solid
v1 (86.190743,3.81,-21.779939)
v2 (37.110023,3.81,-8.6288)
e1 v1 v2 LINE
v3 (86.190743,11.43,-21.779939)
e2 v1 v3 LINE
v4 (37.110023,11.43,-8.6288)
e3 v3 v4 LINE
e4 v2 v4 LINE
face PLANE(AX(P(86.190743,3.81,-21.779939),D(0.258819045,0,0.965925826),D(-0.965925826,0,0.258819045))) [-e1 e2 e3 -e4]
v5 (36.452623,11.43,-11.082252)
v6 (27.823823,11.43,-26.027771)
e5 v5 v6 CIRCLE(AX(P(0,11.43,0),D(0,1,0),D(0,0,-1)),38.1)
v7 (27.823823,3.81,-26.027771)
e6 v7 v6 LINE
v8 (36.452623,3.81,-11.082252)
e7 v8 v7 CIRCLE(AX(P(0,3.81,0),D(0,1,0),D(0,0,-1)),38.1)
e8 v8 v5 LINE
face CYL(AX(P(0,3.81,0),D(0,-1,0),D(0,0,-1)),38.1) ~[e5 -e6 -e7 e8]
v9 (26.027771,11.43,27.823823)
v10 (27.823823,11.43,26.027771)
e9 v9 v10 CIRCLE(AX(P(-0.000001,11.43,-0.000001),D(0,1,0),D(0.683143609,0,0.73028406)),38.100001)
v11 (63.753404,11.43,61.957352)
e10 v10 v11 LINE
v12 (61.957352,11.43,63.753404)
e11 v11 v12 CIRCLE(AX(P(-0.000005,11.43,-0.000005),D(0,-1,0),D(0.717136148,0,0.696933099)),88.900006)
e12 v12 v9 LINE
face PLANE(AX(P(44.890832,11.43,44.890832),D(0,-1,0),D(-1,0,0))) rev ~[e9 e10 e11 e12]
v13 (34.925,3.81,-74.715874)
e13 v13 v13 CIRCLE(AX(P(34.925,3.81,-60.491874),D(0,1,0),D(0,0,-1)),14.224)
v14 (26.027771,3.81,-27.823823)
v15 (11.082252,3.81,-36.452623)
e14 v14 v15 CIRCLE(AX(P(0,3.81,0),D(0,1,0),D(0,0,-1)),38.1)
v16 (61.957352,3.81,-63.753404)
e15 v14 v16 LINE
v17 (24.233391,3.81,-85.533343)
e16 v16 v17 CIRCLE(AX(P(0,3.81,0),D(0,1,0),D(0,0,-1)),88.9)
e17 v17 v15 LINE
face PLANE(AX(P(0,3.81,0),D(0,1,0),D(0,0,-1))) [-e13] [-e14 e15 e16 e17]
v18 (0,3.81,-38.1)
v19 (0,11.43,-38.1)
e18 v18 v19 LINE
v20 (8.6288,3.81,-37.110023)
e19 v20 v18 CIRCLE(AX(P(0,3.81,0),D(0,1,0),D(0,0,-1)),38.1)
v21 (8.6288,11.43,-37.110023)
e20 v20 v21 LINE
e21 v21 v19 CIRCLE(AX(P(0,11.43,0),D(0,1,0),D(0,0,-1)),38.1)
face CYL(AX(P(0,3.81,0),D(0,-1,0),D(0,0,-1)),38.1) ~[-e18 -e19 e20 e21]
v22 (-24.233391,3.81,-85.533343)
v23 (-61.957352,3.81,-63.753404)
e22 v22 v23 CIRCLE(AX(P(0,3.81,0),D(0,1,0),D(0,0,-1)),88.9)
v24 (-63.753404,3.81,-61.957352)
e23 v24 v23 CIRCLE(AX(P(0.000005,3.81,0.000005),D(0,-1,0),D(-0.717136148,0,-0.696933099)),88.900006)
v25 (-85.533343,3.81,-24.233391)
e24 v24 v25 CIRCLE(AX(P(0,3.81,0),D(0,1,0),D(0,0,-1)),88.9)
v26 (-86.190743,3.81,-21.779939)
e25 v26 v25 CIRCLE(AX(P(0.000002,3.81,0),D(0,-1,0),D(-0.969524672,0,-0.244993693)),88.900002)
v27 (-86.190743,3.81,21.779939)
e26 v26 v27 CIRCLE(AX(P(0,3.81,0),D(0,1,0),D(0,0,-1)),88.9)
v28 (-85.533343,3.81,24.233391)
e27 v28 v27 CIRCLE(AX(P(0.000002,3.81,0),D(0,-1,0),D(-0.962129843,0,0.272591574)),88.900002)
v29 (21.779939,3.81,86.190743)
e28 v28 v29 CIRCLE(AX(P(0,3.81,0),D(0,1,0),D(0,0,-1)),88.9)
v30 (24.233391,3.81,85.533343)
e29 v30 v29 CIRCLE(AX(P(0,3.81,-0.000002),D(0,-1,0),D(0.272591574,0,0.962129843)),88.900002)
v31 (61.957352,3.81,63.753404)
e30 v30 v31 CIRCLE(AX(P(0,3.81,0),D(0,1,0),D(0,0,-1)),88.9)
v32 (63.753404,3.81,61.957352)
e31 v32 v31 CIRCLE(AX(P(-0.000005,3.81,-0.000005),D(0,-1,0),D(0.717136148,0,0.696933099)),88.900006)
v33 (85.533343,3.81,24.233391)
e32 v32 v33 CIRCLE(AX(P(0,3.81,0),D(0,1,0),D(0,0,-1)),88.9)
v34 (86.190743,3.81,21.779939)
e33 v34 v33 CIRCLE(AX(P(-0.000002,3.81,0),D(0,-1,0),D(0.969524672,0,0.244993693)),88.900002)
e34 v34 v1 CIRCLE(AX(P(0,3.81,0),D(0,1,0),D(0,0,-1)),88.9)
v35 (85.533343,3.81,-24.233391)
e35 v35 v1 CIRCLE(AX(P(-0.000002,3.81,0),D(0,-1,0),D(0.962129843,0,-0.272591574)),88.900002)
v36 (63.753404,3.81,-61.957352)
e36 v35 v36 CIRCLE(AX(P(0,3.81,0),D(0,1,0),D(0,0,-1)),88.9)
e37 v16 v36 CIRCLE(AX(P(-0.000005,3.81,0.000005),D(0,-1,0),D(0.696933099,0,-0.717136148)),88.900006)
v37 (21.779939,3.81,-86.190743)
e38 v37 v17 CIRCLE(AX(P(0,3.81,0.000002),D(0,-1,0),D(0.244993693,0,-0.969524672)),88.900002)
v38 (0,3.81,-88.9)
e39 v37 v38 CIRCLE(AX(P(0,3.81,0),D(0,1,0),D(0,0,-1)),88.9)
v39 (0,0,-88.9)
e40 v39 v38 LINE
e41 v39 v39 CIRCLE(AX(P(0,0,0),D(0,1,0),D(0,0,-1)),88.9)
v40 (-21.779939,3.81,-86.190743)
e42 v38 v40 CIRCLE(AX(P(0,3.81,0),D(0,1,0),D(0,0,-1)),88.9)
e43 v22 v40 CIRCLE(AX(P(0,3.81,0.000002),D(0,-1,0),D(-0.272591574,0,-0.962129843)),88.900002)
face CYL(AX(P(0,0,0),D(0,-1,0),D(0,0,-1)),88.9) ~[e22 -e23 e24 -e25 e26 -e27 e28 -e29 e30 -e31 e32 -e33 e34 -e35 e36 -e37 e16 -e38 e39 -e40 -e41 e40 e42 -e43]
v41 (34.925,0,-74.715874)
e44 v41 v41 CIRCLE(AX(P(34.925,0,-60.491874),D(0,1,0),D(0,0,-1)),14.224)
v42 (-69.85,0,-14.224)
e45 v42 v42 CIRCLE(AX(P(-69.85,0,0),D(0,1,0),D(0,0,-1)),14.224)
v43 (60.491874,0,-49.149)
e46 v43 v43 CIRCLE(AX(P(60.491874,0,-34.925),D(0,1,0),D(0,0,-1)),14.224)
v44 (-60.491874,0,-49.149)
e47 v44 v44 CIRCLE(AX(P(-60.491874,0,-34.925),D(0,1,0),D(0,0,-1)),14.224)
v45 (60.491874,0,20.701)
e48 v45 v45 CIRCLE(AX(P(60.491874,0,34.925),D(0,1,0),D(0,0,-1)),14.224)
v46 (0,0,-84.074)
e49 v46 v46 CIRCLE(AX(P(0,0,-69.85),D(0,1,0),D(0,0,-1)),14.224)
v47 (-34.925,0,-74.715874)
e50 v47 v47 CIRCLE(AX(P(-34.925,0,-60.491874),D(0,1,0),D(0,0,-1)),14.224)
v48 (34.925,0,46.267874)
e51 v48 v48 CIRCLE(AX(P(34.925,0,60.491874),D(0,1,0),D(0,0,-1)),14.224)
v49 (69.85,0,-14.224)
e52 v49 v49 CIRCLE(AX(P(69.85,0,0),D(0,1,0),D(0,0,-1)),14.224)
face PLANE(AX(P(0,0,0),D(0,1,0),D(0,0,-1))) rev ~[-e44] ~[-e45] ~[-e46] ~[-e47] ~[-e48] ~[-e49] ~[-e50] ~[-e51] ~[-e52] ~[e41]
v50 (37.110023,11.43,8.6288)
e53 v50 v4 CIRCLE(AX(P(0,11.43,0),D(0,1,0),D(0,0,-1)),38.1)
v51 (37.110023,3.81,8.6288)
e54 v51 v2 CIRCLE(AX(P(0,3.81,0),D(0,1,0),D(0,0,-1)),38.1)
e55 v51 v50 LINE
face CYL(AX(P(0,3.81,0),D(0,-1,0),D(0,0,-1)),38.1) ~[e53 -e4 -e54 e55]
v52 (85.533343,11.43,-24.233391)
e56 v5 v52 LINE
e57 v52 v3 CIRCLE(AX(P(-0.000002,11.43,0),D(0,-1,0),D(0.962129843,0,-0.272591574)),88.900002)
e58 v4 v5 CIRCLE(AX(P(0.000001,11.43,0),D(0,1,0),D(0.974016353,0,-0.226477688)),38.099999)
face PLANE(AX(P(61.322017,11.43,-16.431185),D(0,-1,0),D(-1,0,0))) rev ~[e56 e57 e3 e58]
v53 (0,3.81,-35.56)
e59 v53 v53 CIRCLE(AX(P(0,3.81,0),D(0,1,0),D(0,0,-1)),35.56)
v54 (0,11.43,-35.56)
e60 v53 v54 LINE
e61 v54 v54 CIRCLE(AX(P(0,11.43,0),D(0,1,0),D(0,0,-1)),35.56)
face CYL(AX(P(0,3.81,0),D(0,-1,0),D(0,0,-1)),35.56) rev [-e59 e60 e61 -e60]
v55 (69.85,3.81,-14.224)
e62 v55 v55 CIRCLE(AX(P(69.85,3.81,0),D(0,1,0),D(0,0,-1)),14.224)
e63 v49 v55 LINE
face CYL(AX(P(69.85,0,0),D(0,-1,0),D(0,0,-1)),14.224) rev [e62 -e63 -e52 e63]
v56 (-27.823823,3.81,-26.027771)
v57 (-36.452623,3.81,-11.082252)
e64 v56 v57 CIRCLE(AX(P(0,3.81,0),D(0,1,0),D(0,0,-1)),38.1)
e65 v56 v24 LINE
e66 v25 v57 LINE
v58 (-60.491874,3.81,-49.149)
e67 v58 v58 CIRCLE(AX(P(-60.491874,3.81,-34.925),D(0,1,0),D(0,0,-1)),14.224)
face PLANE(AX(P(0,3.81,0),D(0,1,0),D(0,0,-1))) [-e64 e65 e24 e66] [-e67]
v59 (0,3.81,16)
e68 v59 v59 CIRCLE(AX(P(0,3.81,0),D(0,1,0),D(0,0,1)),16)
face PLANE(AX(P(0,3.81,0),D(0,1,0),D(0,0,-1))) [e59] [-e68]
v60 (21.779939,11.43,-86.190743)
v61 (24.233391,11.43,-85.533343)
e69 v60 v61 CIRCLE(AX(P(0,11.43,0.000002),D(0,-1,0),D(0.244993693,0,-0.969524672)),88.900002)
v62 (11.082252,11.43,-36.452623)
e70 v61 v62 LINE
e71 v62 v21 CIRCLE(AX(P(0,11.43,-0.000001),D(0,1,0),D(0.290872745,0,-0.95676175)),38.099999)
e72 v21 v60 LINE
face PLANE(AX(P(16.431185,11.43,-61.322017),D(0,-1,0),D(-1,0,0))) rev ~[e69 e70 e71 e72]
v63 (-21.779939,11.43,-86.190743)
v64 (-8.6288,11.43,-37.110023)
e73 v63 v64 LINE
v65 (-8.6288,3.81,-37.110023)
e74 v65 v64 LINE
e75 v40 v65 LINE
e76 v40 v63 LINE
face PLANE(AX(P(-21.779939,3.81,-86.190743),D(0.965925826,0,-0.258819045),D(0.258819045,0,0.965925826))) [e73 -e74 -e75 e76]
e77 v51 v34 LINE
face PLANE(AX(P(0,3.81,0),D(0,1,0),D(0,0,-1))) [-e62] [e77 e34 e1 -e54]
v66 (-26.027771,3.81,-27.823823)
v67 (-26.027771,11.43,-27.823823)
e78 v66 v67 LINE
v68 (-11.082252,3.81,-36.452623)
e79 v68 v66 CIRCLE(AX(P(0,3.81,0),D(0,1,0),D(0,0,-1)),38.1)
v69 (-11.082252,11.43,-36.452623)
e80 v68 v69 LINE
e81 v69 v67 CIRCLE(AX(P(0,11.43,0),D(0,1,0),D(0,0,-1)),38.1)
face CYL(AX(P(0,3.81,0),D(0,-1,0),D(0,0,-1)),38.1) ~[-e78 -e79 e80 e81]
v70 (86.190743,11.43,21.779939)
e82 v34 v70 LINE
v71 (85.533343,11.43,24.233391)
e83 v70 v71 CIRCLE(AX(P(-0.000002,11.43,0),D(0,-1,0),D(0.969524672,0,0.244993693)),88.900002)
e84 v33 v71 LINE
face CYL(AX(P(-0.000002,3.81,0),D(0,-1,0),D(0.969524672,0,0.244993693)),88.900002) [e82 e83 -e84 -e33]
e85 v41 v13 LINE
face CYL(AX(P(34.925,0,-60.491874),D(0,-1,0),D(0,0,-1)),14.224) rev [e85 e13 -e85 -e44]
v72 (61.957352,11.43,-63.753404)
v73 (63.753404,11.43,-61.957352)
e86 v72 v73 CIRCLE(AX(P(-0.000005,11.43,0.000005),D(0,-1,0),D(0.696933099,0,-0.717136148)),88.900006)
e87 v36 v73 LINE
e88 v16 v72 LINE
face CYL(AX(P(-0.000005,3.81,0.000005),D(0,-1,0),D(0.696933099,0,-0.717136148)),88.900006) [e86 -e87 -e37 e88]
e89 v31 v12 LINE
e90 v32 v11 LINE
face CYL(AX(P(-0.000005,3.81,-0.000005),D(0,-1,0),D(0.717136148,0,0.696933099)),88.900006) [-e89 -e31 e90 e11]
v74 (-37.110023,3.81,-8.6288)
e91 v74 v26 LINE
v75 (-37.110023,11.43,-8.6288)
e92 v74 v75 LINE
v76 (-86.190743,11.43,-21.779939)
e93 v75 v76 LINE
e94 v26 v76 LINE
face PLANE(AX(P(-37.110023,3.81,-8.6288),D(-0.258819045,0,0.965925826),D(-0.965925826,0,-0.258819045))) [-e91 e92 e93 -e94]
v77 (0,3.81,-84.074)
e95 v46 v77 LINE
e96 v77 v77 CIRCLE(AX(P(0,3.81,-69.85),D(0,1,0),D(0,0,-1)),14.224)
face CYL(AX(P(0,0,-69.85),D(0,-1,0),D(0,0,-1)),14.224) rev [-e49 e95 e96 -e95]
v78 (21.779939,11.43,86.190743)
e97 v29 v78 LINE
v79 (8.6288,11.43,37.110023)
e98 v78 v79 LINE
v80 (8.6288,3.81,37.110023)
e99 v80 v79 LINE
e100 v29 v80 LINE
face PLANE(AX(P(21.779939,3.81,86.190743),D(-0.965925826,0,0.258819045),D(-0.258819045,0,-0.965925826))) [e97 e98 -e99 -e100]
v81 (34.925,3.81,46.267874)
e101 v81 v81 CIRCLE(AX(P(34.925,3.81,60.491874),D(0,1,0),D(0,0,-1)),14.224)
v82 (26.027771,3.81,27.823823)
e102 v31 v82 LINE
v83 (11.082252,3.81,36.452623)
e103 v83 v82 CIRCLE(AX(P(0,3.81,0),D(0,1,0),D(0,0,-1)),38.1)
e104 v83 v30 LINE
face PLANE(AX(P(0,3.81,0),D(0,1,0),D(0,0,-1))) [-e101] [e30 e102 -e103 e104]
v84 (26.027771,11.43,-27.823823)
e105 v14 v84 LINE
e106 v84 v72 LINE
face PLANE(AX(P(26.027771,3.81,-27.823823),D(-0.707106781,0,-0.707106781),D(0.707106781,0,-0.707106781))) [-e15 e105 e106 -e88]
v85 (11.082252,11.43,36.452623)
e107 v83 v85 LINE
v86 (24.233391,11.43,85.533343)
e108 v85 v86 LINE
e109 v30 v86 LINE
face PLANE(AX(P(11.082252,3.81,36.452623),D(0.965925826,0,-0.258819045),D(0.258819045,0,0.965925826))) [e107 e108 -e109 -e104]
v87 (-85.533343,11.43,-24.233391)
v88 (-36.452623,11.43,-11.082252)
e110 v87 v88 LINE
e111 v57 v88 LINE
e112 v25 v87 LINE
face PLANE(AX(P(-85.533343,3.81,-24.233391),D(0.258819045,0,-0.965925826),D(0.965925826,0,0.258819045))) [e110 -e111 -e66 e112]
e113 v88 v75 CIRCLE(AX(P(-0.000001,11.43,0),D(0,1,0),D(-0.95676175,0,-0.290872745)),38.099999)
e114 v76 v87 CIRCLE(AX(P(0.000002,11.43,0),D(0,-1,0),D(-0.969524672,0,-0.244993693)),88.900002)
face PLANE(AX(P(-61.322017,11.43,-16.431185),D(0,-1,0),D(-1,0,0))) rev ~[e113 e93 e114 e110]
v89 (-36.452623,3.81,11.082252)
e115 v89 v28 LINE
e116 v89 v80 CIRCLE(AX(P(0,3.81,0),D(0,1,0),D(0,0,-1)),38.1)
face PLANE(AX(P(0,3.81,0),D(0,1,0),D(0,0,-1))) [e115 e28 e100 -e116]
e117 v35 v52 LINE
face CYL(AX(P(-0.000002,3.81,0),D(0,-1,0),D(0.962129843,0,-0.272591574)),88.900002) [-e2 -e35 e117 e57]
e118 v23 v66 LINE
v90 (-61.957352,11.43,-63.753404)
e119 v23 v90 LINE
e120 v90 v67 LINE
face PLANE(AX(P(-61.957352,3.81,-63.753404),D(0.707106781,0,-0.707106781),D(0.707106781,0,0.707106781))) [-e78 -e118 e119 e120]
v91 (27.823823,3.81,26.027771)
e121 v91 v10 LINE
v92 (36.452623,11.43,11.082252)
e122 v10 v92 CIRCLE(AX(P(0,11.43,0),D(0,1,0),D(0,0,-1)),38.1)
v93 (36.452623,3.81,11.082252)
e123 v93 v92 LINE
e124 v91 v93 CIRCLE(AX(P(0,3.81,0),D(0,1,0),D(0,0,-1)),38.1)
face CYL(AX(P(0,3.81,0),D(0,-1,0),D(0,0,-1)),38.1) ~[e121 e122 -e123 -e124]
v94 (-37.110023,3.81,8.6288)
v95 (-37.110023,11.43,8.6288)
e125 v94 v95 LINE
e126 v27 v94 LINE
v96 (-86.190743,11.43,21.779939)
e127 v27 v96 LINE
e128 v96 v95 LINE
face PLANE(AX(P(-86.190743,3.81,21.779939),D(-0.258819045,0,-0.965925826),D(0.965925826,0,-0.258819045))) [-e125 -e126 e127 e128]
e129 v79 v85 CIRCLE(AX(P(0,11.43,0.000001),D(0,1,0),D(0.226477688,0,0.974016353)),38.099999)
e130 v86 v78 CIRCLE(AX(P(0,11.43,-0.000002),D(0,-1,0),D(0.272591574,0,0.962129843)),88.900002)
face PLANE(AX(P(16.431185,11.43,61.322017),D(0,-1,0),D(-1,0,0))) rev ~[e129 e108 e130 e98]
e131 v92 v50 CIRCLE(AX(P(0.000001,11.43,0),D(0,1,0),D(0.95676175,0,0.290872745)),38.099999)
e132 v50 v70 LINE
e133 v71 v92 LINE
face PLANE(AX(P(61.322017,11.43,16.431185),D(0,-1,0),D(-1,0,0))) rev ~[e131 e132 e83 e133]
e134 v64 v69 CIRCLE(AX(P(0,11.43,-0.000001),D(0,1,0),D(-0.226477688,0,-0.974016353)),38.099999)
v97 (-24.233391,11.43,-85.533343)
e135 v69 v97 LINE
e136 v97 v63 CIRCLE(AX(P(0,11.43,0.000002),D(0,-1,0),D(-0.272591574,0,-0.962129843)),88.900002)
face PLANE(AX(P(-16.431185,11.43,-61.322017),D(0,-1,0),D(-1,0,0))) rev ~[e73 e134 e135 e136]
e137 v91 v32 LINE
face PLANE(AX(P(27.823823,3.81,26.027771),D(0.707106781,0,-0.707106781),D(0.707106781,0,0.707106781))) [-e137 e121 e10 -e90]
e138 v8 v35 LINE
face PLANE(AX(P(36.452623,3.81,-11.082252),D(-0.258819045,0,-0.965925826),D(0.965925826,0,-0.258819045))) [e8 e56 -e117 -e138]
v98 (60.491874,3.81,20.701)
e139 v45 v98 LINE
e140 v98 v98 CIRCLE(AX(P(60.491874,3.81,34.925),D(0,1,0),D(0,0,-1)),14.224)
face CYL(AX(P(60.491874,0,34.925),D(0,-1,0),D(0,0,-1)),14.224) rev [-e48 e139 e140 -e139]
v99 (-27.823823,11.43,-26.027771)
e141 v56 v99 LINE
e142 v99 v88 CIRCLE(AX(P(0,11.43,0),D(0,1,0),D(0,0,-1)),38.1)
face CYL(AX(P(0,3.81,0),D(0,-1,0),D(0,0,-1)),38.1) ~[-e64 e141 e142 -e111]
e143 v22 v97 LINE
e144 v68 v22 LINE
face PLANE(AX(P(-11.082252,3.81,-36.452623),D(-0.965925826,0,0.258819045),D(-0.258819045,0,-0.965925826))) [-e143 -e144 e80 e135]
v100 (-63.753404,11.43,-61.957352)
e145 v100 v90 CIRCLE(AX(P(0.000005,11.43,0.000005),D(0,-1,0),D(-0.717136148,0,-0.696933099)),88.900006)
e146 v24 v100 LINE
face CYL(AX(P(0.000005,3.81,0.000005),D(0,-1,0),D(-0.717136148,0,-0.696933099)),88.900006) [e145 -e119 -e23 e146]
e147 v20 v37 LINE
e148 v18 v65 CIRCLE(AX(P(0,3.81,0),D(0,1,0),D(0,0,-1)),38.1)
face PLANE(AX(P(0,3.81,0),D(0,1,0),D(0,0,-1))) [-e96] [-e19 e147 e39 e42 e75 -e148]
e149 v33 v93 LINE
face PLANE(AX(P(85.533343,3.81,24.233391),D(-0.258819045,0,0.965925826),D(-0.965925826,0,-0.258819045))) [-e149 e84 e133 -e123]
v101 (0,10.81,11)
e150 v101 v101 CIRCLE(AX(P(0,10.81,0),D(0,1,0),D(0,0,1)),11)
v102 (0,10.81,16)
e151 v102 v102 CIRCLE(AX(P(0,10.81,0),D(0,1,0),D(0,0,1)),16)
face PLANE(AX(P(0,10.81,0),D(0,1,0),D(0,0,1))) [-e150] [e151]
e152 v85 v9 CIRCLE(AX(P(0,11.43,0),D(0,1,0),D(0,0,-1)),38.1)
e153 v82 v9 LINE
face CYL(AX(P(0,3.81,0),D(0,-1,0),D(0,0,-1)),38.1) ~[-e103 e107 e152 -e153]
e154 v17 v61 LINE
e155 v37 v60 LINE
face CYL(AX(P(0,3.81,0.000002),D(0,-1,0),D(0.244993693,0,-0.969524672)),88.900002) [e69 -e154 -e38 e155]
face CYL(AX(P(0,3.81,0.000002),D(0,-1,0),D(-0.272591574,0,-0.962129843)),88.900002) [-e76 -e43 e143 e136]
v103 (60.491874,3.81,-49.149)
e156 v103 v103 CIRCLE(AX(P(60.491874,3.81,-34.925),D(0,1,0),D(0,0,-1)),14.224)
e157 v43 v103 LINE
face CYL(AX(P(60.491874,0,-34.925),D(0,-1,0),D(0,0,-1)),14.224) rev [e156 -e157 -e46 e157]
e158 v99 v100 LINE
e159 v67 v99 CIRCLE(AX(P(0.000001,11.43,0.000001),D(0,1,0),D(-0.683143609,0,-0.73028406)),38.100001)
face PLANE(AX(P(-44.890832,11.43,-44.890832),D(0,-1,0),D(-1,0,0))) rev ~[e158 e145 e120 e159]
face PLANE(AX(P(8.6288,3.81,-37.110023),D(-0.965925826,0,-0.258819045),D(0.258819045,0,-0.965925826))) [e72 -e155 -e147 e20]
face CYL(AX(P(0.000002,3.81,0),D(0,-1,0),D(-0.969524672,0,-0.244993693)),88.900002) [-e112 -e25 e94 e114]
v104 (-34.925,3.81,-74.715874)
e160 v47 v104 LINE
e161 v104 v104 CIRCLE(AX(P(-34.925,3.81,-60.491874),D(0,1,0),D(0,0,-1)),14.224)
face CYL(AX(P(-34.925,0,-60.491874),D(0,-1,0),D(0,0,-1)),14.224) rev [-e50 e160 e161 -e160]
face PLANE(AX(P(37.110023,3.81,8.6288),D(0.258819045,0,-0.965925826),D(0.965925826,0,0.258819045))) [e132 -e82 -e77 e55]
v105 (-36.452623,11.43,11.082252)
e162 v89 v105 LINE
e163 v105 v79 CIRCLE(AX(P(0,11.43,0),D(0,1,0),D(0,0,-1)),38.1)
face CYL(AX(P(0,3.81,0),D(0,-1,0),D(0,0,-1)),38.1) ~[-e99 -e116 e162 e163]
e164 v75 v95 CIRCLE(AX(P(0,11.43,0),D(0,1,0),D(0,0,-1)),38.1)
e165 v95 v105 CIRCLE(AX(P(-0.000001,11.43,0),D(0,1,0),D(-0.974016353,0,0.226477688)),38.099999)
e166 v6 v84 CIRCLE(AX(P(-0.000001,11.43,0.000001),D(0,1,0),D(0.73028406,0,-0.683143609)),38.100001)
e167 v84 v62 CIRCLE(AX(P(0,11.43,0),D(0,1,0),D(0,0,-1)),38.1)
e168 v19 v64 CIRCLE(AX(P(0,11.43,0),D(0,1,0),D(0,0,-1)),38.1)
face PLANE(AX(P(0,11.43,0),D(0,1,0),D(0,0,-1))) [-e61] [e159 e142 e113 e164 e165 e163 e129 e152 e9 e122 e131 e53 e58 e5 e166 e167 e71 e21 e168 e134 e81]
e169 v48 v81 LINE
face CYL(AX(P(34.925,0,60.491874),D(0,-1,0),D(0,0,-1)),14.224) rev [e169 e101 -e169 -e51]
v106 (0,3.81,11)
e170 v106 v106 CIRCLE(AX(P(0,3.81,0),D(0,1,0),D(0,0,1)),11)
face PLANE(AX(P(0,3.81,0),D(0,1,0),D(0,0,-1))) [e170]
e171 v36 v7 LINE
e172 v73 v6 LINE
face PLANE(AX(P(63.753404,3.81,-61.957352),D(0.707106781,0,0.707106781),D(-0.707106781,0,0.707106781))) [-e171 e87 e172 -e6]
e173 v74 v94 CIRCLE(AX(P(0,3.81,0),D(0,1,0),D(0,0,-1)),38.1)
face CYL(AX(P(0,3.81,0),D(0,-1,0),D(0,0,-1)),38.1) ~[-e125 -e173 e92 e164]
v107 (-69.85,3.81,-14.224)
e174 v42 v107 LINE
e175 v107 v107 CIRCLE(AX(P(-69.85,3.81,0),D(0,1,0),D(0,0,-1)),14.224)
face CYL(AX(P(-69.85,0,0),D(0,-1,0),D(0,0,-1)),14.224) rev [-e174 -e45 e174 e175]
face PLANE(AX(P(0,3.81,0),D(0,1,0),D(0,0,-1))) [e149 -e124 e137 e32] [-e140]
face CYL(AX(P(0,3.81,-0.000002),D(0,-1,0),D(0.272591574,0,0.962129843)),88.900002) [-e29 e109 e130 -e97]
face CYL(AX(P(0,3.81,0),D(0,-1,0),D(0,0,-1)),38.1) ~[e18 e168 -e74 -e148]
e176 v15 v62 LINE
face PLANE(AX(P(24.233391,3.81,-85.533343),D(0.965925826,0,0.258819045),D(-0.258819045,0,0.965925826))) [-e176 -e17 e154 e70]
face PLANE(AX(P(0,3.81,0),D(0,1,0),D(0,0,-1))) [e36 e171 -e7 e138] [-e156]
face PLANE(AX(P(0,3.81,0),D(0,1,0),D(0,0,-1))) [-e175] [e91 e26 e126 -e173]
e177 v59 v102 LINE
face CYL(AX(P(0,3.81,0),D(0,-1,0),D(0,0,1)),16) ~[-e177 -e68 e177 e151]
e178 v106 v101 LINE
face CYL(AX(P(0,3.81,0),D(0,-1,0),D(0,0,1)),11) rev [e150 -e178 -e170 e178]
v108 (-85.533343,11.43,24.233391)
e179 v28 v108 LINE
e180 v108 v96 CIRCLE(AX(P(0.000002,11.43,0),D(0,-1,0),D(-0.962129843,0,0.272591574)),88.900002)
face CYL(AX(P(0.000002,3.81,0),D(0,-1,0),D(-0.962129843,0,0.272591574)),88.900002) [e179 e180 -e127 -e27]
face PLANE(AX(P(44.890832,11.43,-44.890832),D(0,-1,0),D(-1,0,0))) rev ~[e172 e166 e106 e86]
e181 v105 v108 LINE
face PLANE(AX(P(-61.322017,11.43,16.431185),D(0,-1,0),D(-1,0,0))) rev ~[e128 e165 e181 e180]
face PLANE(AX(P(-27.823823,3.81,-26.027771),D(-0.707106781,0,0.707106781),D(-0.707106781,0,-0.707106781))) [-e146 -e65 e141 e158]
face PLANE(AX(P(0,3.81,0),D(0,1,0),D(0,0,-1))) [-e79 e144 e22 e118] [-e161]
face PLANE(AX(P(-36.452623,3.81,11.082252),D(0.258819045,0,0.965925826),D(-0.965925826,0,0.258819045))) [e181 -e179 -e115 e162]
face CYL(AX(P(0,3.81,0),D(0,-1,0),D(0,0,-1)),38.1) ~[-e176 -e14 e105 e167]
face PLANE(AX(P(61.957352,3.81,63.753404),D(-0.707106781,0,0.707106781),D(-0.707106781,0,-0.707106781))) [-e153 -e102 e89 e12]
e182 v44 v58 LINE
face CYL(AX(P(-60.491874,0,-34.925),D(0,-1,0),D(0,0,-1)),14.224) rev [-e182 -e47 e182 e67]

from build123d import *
from build123d.topology import SkipClean

# Parameters (mm, degrees)
SKETCH1_R           = 88.9
SKETCH1_R_2         = 14.224
BOSS_EXTRUDE1_DEPTH = 3.81
SKETCH3_R           = 38.1
SKETCH3_R_2         = 35.56
BOSS_EXTRUDE3_DEPTH = 7.62
BOSS_EXTRUDE4_DEPTH = 7.62
SKETCH4_R           = 16
SKETCH4_R_2         = 11
BOSS_EXTRUDE5_DEPTH = 7


with BuildPart() as part:
    # Sketch1 → Boss-Extrude1 (new body)
    with BuildSketch(Plane(origin=(0, 0, 0), x_dir=(1, 0, 0), z_dir=(0, 1, 0))):
        with Locations(Location((0, 0, 0), (0, 0, 90))):
            Circle(SKETCH1_R)
        with Locations(Location((-69.85, 0, 0), (0, 0, 90))):
            Circle(SKETCH1_R_2, mode=Mode.SUBTRACT)
        with Locations(Location((-60.491874454, 34.925, 0), (0, 0, 90))):
            Circle(SKETCH1_R_2, mode=Mode.SUBTRACT)
        with Locations(Location((-34.925, 60.491874454, 0), (0, 0, 90))):
            Circle(SKETCH1_R_2, mode=Mode.SUBTRACT)
        with Locations(Location((0, 69.85, 0), (0, 0, 90))):
            Circle(SKETCH1_R_2, mode=Mode.SUBTRACT)
        with Locations(Location((34.925, 60.491874454, 0), (0, 0, 90))):
            Circle(SKETCH1_R_2, mode=Mode.SUBTRACT)
        with Locations(Location((60.491874454, 34.925, 0), (0, 0, 90))):
            Circle(SKETCH1_R_2, mode=Mode.SUBTRACT)
        with Locations(Location((69.85, 0, 0), (0, 0, 90))):
            Circle(SKETCH1_R_2, mode=Mode.SUBTRACT)
        with Locations(Location((60.491874454, -34.925, 0), (0, 0, 90))):
            Circle(SKETCH1_R_2, mode=Mode.SUBTRACT)
        with Locations(Location((34.925, -60.491874454, 0), (0, 0, 90))):
            Circle(SKETCH1_R_2, mode=Mode.SUBTRACT)
    extrude(amount=BOSS_EXTRUDE1_DEPTH)

    # Sketch3 → Boss-Extrude3 (add)
    with BuildSketch(Plane(origin=(0, 3.81, 0), x_dir=(1, 0, 0), z_dir=(0, 1, 0))):
        with Locations(Location((0, 0, 0), (0, 0, 90))):
            Circle(SKETCH3_R)
        with Locations(Location((0, 0, 0), (0, 0, 90))):
            Circle(SKETCH3_R_2, mode=Mode.SUBTRACT)
    extrude(amount=BOSS_EXTRUDE3_DEPTH)

    # Sketch2 → Boss-Extrude4 (add)
    with SkipClean():  # the faces are left unmerged after this step: merging them gives an invalid solid
        with BuildSketch(Plane(origin=(0, 3.81, 0), x_dir=(1, 0, 0), z_dir=(0, 1, 0))):
            with BuildLine():
                Line((-86.19074337, -21.779939332), (-37.110023056, -8.62879996))
                ThreePointArc((-37.110023056, -8.62879996), (-36.801773982, -9.861005618), (-36.452622682, -11.082251559))
                Line((-36.452622682, -11.082251559), (-85.533342996, -24.233390931))
                ThreePointArc((-85.533342996, -24.233390931), (-85.870805957, -23.00901311), (-86.19074337, -21.779939332))
            make_face()
            with BuildLine():
                Line((-85.533342996, 24.233390931), (-36.452622682, 11.082251559))
                ThreePointArc((-36.452622682, 11.082251559), (-36.801773982, 9.861005618), (-37.110023056, 8.62879996))
                Line((-37.110023056, 8.62879996), (-86.19074337, 21.779939332))
                ThreePointArc((-86.19074337, 21.779939332), (-85.870805957, 23.00901311), (-85.533342996, 24.233390931))
            make_face()
            with BuildLine():
                Line((-61.957352439, 63.753403664), (-26.027771498, 27.823822722))
                ThreePointArc((-26.027771498, 27.823822722), (-26.940768363, 26.940768363), (-27.823822722, 26.027771498))
                Line((-27.823822722, 26.027771498), (-63.753403664, 61.957352439))
                ThreePointArc((-63.753403664, 61.957352439), (-62.861792847, 62.861792847), (-61.957352439, 63.753403664))
            make_face()
            with BuildLine():
                Line((-21.779939332, 86.19074337), (-8.62879996, 37.110023056))
                ThreePointArc((-8.62879996, 37.110023056), (-9.861005618, 36.801773982), (-11.082251559, 36.452622682))
                Line((-11.082251559, 36.452622682), (-24.233390931, 85.533342996))
                ThreePointArc((-24.233390931, 85.533342996), (-23.00901311, 85.870805957), (-21.779939332, 86.19074337))
            make_face()
            with BuildLine():
                Line((24.233390931, 85.533342996), (11.082251559, 36.452622682))
                ThreePointArc((11.082251559, 36.452622682), (9.861005618, 36.801773982), (8.62879996, 37.110023056))
                Line((8.62879996, 37.110023056), (21.779939332, 86.19074337))
                ThreePointArc((21.779939332, 86.19074337), (23.00901311, 85.870805957), (24.233390931, 85.533342996))
            make_face()
            with BuildLine():
                Line((63.753403664, 61.957352439), (27.823822722, 26.027771498))
                ThreePointArc((27.823822722, 26.027771498), (26.940768363, 26.940768363), (26.027771498, 27.823822722))
                Line((26.027771498, 27.823822722), (61.957352439, 63.753403664))
                ThreePointArc((61.957352439, 63.753403664), (62.861792847, 62.861792847), (63.753403664, 61.957352439))
            make_face()
            with BuildLine():
                Line((86.19074337, 21.779939332), (37.110023056, 8.62879996))
                ThreePointArc((37.110023056, 8.62879996), (36.801773982, 9.861005618), (36.452622682, 11.082251559))
                Line((36.452622682, 11.082251559), (85.533342996, 24.233390931))
                ThreePointArc((85.533342996, 24.233390931), (85.870805957, 23.00901311), (86.19074337, 21.779939332))
            make_face()
            with BuildLine():
                Line((85.533342996, -24.233390931), (36.452622682, -11.082251559))
                ThreePointArc((36.452622682, -11.082251559), (36.801773982, -9.861005618), (37.110023056, -8.62879996))
                Line((37.110023056, -8.62879996), (86.19074337, -21.779939332))
                ThreePointArc((86.19074337, -21.779939332), (85.870805957, -23.00901311), (85.533342996, -24.233390931))
            make_face()
            with BuildLine():
                Line((61.957352439, -63.753403664), (26.027771498, -27.823822722))
                ThreePointArc((26.027771498, -27.823822722), (26.940768363, -26.940768363), (27.823822722, -26.027771498))
                Line((27.823822722, -26.027771498), (63.753403664, -61.957352439))
                ThreePointArc((63.753403664, -61.957352439), (62.861792847, -62.861792847), (61.957352439, -63.753403664))
            make_face()
            with BuildLine():
                Line((21.779939332, -86.19074337), (8.62879996, -37.110023056))
                ThreePointArc((8.62879996, -37.110023056), (9.861005618, -36.801773982), (11.082251559, -36.452622682))
                Line((11.082251559, -36.452622682), (24.233390931, -85.533342996))
                ThreePointArc((24.233390931, -85.533342996), (23.00901311, -85.870805957), (21.779939332, -86.19074337))
            make_face()
        extrude(amount=BOSS_EXTRUDE4_DEPTH)

    # Sketch4 → Boss-Extrude5 (add)
    with SkipClean():  # the faces are left unmerged after this step: merging them gives an invalid solid
        with BuildSketch(Plane(origin=(0, 3.81, 0), x_dir=(1, 0, 0), z_dir=(0, 1, 0))):
            with Locations(Location((0, 0, 0), (0, 0, 270))):
                Circle(SKETCH4_R)
            with Locations(Location((0, 0, 0), (0, 0, 270))):
                Circle(SKETCH4_R_2, mode=Mode.SUBTRACT)
        extrude(amount=BOSS_EXTRUDE5_DEPTH)


solid = part.part
